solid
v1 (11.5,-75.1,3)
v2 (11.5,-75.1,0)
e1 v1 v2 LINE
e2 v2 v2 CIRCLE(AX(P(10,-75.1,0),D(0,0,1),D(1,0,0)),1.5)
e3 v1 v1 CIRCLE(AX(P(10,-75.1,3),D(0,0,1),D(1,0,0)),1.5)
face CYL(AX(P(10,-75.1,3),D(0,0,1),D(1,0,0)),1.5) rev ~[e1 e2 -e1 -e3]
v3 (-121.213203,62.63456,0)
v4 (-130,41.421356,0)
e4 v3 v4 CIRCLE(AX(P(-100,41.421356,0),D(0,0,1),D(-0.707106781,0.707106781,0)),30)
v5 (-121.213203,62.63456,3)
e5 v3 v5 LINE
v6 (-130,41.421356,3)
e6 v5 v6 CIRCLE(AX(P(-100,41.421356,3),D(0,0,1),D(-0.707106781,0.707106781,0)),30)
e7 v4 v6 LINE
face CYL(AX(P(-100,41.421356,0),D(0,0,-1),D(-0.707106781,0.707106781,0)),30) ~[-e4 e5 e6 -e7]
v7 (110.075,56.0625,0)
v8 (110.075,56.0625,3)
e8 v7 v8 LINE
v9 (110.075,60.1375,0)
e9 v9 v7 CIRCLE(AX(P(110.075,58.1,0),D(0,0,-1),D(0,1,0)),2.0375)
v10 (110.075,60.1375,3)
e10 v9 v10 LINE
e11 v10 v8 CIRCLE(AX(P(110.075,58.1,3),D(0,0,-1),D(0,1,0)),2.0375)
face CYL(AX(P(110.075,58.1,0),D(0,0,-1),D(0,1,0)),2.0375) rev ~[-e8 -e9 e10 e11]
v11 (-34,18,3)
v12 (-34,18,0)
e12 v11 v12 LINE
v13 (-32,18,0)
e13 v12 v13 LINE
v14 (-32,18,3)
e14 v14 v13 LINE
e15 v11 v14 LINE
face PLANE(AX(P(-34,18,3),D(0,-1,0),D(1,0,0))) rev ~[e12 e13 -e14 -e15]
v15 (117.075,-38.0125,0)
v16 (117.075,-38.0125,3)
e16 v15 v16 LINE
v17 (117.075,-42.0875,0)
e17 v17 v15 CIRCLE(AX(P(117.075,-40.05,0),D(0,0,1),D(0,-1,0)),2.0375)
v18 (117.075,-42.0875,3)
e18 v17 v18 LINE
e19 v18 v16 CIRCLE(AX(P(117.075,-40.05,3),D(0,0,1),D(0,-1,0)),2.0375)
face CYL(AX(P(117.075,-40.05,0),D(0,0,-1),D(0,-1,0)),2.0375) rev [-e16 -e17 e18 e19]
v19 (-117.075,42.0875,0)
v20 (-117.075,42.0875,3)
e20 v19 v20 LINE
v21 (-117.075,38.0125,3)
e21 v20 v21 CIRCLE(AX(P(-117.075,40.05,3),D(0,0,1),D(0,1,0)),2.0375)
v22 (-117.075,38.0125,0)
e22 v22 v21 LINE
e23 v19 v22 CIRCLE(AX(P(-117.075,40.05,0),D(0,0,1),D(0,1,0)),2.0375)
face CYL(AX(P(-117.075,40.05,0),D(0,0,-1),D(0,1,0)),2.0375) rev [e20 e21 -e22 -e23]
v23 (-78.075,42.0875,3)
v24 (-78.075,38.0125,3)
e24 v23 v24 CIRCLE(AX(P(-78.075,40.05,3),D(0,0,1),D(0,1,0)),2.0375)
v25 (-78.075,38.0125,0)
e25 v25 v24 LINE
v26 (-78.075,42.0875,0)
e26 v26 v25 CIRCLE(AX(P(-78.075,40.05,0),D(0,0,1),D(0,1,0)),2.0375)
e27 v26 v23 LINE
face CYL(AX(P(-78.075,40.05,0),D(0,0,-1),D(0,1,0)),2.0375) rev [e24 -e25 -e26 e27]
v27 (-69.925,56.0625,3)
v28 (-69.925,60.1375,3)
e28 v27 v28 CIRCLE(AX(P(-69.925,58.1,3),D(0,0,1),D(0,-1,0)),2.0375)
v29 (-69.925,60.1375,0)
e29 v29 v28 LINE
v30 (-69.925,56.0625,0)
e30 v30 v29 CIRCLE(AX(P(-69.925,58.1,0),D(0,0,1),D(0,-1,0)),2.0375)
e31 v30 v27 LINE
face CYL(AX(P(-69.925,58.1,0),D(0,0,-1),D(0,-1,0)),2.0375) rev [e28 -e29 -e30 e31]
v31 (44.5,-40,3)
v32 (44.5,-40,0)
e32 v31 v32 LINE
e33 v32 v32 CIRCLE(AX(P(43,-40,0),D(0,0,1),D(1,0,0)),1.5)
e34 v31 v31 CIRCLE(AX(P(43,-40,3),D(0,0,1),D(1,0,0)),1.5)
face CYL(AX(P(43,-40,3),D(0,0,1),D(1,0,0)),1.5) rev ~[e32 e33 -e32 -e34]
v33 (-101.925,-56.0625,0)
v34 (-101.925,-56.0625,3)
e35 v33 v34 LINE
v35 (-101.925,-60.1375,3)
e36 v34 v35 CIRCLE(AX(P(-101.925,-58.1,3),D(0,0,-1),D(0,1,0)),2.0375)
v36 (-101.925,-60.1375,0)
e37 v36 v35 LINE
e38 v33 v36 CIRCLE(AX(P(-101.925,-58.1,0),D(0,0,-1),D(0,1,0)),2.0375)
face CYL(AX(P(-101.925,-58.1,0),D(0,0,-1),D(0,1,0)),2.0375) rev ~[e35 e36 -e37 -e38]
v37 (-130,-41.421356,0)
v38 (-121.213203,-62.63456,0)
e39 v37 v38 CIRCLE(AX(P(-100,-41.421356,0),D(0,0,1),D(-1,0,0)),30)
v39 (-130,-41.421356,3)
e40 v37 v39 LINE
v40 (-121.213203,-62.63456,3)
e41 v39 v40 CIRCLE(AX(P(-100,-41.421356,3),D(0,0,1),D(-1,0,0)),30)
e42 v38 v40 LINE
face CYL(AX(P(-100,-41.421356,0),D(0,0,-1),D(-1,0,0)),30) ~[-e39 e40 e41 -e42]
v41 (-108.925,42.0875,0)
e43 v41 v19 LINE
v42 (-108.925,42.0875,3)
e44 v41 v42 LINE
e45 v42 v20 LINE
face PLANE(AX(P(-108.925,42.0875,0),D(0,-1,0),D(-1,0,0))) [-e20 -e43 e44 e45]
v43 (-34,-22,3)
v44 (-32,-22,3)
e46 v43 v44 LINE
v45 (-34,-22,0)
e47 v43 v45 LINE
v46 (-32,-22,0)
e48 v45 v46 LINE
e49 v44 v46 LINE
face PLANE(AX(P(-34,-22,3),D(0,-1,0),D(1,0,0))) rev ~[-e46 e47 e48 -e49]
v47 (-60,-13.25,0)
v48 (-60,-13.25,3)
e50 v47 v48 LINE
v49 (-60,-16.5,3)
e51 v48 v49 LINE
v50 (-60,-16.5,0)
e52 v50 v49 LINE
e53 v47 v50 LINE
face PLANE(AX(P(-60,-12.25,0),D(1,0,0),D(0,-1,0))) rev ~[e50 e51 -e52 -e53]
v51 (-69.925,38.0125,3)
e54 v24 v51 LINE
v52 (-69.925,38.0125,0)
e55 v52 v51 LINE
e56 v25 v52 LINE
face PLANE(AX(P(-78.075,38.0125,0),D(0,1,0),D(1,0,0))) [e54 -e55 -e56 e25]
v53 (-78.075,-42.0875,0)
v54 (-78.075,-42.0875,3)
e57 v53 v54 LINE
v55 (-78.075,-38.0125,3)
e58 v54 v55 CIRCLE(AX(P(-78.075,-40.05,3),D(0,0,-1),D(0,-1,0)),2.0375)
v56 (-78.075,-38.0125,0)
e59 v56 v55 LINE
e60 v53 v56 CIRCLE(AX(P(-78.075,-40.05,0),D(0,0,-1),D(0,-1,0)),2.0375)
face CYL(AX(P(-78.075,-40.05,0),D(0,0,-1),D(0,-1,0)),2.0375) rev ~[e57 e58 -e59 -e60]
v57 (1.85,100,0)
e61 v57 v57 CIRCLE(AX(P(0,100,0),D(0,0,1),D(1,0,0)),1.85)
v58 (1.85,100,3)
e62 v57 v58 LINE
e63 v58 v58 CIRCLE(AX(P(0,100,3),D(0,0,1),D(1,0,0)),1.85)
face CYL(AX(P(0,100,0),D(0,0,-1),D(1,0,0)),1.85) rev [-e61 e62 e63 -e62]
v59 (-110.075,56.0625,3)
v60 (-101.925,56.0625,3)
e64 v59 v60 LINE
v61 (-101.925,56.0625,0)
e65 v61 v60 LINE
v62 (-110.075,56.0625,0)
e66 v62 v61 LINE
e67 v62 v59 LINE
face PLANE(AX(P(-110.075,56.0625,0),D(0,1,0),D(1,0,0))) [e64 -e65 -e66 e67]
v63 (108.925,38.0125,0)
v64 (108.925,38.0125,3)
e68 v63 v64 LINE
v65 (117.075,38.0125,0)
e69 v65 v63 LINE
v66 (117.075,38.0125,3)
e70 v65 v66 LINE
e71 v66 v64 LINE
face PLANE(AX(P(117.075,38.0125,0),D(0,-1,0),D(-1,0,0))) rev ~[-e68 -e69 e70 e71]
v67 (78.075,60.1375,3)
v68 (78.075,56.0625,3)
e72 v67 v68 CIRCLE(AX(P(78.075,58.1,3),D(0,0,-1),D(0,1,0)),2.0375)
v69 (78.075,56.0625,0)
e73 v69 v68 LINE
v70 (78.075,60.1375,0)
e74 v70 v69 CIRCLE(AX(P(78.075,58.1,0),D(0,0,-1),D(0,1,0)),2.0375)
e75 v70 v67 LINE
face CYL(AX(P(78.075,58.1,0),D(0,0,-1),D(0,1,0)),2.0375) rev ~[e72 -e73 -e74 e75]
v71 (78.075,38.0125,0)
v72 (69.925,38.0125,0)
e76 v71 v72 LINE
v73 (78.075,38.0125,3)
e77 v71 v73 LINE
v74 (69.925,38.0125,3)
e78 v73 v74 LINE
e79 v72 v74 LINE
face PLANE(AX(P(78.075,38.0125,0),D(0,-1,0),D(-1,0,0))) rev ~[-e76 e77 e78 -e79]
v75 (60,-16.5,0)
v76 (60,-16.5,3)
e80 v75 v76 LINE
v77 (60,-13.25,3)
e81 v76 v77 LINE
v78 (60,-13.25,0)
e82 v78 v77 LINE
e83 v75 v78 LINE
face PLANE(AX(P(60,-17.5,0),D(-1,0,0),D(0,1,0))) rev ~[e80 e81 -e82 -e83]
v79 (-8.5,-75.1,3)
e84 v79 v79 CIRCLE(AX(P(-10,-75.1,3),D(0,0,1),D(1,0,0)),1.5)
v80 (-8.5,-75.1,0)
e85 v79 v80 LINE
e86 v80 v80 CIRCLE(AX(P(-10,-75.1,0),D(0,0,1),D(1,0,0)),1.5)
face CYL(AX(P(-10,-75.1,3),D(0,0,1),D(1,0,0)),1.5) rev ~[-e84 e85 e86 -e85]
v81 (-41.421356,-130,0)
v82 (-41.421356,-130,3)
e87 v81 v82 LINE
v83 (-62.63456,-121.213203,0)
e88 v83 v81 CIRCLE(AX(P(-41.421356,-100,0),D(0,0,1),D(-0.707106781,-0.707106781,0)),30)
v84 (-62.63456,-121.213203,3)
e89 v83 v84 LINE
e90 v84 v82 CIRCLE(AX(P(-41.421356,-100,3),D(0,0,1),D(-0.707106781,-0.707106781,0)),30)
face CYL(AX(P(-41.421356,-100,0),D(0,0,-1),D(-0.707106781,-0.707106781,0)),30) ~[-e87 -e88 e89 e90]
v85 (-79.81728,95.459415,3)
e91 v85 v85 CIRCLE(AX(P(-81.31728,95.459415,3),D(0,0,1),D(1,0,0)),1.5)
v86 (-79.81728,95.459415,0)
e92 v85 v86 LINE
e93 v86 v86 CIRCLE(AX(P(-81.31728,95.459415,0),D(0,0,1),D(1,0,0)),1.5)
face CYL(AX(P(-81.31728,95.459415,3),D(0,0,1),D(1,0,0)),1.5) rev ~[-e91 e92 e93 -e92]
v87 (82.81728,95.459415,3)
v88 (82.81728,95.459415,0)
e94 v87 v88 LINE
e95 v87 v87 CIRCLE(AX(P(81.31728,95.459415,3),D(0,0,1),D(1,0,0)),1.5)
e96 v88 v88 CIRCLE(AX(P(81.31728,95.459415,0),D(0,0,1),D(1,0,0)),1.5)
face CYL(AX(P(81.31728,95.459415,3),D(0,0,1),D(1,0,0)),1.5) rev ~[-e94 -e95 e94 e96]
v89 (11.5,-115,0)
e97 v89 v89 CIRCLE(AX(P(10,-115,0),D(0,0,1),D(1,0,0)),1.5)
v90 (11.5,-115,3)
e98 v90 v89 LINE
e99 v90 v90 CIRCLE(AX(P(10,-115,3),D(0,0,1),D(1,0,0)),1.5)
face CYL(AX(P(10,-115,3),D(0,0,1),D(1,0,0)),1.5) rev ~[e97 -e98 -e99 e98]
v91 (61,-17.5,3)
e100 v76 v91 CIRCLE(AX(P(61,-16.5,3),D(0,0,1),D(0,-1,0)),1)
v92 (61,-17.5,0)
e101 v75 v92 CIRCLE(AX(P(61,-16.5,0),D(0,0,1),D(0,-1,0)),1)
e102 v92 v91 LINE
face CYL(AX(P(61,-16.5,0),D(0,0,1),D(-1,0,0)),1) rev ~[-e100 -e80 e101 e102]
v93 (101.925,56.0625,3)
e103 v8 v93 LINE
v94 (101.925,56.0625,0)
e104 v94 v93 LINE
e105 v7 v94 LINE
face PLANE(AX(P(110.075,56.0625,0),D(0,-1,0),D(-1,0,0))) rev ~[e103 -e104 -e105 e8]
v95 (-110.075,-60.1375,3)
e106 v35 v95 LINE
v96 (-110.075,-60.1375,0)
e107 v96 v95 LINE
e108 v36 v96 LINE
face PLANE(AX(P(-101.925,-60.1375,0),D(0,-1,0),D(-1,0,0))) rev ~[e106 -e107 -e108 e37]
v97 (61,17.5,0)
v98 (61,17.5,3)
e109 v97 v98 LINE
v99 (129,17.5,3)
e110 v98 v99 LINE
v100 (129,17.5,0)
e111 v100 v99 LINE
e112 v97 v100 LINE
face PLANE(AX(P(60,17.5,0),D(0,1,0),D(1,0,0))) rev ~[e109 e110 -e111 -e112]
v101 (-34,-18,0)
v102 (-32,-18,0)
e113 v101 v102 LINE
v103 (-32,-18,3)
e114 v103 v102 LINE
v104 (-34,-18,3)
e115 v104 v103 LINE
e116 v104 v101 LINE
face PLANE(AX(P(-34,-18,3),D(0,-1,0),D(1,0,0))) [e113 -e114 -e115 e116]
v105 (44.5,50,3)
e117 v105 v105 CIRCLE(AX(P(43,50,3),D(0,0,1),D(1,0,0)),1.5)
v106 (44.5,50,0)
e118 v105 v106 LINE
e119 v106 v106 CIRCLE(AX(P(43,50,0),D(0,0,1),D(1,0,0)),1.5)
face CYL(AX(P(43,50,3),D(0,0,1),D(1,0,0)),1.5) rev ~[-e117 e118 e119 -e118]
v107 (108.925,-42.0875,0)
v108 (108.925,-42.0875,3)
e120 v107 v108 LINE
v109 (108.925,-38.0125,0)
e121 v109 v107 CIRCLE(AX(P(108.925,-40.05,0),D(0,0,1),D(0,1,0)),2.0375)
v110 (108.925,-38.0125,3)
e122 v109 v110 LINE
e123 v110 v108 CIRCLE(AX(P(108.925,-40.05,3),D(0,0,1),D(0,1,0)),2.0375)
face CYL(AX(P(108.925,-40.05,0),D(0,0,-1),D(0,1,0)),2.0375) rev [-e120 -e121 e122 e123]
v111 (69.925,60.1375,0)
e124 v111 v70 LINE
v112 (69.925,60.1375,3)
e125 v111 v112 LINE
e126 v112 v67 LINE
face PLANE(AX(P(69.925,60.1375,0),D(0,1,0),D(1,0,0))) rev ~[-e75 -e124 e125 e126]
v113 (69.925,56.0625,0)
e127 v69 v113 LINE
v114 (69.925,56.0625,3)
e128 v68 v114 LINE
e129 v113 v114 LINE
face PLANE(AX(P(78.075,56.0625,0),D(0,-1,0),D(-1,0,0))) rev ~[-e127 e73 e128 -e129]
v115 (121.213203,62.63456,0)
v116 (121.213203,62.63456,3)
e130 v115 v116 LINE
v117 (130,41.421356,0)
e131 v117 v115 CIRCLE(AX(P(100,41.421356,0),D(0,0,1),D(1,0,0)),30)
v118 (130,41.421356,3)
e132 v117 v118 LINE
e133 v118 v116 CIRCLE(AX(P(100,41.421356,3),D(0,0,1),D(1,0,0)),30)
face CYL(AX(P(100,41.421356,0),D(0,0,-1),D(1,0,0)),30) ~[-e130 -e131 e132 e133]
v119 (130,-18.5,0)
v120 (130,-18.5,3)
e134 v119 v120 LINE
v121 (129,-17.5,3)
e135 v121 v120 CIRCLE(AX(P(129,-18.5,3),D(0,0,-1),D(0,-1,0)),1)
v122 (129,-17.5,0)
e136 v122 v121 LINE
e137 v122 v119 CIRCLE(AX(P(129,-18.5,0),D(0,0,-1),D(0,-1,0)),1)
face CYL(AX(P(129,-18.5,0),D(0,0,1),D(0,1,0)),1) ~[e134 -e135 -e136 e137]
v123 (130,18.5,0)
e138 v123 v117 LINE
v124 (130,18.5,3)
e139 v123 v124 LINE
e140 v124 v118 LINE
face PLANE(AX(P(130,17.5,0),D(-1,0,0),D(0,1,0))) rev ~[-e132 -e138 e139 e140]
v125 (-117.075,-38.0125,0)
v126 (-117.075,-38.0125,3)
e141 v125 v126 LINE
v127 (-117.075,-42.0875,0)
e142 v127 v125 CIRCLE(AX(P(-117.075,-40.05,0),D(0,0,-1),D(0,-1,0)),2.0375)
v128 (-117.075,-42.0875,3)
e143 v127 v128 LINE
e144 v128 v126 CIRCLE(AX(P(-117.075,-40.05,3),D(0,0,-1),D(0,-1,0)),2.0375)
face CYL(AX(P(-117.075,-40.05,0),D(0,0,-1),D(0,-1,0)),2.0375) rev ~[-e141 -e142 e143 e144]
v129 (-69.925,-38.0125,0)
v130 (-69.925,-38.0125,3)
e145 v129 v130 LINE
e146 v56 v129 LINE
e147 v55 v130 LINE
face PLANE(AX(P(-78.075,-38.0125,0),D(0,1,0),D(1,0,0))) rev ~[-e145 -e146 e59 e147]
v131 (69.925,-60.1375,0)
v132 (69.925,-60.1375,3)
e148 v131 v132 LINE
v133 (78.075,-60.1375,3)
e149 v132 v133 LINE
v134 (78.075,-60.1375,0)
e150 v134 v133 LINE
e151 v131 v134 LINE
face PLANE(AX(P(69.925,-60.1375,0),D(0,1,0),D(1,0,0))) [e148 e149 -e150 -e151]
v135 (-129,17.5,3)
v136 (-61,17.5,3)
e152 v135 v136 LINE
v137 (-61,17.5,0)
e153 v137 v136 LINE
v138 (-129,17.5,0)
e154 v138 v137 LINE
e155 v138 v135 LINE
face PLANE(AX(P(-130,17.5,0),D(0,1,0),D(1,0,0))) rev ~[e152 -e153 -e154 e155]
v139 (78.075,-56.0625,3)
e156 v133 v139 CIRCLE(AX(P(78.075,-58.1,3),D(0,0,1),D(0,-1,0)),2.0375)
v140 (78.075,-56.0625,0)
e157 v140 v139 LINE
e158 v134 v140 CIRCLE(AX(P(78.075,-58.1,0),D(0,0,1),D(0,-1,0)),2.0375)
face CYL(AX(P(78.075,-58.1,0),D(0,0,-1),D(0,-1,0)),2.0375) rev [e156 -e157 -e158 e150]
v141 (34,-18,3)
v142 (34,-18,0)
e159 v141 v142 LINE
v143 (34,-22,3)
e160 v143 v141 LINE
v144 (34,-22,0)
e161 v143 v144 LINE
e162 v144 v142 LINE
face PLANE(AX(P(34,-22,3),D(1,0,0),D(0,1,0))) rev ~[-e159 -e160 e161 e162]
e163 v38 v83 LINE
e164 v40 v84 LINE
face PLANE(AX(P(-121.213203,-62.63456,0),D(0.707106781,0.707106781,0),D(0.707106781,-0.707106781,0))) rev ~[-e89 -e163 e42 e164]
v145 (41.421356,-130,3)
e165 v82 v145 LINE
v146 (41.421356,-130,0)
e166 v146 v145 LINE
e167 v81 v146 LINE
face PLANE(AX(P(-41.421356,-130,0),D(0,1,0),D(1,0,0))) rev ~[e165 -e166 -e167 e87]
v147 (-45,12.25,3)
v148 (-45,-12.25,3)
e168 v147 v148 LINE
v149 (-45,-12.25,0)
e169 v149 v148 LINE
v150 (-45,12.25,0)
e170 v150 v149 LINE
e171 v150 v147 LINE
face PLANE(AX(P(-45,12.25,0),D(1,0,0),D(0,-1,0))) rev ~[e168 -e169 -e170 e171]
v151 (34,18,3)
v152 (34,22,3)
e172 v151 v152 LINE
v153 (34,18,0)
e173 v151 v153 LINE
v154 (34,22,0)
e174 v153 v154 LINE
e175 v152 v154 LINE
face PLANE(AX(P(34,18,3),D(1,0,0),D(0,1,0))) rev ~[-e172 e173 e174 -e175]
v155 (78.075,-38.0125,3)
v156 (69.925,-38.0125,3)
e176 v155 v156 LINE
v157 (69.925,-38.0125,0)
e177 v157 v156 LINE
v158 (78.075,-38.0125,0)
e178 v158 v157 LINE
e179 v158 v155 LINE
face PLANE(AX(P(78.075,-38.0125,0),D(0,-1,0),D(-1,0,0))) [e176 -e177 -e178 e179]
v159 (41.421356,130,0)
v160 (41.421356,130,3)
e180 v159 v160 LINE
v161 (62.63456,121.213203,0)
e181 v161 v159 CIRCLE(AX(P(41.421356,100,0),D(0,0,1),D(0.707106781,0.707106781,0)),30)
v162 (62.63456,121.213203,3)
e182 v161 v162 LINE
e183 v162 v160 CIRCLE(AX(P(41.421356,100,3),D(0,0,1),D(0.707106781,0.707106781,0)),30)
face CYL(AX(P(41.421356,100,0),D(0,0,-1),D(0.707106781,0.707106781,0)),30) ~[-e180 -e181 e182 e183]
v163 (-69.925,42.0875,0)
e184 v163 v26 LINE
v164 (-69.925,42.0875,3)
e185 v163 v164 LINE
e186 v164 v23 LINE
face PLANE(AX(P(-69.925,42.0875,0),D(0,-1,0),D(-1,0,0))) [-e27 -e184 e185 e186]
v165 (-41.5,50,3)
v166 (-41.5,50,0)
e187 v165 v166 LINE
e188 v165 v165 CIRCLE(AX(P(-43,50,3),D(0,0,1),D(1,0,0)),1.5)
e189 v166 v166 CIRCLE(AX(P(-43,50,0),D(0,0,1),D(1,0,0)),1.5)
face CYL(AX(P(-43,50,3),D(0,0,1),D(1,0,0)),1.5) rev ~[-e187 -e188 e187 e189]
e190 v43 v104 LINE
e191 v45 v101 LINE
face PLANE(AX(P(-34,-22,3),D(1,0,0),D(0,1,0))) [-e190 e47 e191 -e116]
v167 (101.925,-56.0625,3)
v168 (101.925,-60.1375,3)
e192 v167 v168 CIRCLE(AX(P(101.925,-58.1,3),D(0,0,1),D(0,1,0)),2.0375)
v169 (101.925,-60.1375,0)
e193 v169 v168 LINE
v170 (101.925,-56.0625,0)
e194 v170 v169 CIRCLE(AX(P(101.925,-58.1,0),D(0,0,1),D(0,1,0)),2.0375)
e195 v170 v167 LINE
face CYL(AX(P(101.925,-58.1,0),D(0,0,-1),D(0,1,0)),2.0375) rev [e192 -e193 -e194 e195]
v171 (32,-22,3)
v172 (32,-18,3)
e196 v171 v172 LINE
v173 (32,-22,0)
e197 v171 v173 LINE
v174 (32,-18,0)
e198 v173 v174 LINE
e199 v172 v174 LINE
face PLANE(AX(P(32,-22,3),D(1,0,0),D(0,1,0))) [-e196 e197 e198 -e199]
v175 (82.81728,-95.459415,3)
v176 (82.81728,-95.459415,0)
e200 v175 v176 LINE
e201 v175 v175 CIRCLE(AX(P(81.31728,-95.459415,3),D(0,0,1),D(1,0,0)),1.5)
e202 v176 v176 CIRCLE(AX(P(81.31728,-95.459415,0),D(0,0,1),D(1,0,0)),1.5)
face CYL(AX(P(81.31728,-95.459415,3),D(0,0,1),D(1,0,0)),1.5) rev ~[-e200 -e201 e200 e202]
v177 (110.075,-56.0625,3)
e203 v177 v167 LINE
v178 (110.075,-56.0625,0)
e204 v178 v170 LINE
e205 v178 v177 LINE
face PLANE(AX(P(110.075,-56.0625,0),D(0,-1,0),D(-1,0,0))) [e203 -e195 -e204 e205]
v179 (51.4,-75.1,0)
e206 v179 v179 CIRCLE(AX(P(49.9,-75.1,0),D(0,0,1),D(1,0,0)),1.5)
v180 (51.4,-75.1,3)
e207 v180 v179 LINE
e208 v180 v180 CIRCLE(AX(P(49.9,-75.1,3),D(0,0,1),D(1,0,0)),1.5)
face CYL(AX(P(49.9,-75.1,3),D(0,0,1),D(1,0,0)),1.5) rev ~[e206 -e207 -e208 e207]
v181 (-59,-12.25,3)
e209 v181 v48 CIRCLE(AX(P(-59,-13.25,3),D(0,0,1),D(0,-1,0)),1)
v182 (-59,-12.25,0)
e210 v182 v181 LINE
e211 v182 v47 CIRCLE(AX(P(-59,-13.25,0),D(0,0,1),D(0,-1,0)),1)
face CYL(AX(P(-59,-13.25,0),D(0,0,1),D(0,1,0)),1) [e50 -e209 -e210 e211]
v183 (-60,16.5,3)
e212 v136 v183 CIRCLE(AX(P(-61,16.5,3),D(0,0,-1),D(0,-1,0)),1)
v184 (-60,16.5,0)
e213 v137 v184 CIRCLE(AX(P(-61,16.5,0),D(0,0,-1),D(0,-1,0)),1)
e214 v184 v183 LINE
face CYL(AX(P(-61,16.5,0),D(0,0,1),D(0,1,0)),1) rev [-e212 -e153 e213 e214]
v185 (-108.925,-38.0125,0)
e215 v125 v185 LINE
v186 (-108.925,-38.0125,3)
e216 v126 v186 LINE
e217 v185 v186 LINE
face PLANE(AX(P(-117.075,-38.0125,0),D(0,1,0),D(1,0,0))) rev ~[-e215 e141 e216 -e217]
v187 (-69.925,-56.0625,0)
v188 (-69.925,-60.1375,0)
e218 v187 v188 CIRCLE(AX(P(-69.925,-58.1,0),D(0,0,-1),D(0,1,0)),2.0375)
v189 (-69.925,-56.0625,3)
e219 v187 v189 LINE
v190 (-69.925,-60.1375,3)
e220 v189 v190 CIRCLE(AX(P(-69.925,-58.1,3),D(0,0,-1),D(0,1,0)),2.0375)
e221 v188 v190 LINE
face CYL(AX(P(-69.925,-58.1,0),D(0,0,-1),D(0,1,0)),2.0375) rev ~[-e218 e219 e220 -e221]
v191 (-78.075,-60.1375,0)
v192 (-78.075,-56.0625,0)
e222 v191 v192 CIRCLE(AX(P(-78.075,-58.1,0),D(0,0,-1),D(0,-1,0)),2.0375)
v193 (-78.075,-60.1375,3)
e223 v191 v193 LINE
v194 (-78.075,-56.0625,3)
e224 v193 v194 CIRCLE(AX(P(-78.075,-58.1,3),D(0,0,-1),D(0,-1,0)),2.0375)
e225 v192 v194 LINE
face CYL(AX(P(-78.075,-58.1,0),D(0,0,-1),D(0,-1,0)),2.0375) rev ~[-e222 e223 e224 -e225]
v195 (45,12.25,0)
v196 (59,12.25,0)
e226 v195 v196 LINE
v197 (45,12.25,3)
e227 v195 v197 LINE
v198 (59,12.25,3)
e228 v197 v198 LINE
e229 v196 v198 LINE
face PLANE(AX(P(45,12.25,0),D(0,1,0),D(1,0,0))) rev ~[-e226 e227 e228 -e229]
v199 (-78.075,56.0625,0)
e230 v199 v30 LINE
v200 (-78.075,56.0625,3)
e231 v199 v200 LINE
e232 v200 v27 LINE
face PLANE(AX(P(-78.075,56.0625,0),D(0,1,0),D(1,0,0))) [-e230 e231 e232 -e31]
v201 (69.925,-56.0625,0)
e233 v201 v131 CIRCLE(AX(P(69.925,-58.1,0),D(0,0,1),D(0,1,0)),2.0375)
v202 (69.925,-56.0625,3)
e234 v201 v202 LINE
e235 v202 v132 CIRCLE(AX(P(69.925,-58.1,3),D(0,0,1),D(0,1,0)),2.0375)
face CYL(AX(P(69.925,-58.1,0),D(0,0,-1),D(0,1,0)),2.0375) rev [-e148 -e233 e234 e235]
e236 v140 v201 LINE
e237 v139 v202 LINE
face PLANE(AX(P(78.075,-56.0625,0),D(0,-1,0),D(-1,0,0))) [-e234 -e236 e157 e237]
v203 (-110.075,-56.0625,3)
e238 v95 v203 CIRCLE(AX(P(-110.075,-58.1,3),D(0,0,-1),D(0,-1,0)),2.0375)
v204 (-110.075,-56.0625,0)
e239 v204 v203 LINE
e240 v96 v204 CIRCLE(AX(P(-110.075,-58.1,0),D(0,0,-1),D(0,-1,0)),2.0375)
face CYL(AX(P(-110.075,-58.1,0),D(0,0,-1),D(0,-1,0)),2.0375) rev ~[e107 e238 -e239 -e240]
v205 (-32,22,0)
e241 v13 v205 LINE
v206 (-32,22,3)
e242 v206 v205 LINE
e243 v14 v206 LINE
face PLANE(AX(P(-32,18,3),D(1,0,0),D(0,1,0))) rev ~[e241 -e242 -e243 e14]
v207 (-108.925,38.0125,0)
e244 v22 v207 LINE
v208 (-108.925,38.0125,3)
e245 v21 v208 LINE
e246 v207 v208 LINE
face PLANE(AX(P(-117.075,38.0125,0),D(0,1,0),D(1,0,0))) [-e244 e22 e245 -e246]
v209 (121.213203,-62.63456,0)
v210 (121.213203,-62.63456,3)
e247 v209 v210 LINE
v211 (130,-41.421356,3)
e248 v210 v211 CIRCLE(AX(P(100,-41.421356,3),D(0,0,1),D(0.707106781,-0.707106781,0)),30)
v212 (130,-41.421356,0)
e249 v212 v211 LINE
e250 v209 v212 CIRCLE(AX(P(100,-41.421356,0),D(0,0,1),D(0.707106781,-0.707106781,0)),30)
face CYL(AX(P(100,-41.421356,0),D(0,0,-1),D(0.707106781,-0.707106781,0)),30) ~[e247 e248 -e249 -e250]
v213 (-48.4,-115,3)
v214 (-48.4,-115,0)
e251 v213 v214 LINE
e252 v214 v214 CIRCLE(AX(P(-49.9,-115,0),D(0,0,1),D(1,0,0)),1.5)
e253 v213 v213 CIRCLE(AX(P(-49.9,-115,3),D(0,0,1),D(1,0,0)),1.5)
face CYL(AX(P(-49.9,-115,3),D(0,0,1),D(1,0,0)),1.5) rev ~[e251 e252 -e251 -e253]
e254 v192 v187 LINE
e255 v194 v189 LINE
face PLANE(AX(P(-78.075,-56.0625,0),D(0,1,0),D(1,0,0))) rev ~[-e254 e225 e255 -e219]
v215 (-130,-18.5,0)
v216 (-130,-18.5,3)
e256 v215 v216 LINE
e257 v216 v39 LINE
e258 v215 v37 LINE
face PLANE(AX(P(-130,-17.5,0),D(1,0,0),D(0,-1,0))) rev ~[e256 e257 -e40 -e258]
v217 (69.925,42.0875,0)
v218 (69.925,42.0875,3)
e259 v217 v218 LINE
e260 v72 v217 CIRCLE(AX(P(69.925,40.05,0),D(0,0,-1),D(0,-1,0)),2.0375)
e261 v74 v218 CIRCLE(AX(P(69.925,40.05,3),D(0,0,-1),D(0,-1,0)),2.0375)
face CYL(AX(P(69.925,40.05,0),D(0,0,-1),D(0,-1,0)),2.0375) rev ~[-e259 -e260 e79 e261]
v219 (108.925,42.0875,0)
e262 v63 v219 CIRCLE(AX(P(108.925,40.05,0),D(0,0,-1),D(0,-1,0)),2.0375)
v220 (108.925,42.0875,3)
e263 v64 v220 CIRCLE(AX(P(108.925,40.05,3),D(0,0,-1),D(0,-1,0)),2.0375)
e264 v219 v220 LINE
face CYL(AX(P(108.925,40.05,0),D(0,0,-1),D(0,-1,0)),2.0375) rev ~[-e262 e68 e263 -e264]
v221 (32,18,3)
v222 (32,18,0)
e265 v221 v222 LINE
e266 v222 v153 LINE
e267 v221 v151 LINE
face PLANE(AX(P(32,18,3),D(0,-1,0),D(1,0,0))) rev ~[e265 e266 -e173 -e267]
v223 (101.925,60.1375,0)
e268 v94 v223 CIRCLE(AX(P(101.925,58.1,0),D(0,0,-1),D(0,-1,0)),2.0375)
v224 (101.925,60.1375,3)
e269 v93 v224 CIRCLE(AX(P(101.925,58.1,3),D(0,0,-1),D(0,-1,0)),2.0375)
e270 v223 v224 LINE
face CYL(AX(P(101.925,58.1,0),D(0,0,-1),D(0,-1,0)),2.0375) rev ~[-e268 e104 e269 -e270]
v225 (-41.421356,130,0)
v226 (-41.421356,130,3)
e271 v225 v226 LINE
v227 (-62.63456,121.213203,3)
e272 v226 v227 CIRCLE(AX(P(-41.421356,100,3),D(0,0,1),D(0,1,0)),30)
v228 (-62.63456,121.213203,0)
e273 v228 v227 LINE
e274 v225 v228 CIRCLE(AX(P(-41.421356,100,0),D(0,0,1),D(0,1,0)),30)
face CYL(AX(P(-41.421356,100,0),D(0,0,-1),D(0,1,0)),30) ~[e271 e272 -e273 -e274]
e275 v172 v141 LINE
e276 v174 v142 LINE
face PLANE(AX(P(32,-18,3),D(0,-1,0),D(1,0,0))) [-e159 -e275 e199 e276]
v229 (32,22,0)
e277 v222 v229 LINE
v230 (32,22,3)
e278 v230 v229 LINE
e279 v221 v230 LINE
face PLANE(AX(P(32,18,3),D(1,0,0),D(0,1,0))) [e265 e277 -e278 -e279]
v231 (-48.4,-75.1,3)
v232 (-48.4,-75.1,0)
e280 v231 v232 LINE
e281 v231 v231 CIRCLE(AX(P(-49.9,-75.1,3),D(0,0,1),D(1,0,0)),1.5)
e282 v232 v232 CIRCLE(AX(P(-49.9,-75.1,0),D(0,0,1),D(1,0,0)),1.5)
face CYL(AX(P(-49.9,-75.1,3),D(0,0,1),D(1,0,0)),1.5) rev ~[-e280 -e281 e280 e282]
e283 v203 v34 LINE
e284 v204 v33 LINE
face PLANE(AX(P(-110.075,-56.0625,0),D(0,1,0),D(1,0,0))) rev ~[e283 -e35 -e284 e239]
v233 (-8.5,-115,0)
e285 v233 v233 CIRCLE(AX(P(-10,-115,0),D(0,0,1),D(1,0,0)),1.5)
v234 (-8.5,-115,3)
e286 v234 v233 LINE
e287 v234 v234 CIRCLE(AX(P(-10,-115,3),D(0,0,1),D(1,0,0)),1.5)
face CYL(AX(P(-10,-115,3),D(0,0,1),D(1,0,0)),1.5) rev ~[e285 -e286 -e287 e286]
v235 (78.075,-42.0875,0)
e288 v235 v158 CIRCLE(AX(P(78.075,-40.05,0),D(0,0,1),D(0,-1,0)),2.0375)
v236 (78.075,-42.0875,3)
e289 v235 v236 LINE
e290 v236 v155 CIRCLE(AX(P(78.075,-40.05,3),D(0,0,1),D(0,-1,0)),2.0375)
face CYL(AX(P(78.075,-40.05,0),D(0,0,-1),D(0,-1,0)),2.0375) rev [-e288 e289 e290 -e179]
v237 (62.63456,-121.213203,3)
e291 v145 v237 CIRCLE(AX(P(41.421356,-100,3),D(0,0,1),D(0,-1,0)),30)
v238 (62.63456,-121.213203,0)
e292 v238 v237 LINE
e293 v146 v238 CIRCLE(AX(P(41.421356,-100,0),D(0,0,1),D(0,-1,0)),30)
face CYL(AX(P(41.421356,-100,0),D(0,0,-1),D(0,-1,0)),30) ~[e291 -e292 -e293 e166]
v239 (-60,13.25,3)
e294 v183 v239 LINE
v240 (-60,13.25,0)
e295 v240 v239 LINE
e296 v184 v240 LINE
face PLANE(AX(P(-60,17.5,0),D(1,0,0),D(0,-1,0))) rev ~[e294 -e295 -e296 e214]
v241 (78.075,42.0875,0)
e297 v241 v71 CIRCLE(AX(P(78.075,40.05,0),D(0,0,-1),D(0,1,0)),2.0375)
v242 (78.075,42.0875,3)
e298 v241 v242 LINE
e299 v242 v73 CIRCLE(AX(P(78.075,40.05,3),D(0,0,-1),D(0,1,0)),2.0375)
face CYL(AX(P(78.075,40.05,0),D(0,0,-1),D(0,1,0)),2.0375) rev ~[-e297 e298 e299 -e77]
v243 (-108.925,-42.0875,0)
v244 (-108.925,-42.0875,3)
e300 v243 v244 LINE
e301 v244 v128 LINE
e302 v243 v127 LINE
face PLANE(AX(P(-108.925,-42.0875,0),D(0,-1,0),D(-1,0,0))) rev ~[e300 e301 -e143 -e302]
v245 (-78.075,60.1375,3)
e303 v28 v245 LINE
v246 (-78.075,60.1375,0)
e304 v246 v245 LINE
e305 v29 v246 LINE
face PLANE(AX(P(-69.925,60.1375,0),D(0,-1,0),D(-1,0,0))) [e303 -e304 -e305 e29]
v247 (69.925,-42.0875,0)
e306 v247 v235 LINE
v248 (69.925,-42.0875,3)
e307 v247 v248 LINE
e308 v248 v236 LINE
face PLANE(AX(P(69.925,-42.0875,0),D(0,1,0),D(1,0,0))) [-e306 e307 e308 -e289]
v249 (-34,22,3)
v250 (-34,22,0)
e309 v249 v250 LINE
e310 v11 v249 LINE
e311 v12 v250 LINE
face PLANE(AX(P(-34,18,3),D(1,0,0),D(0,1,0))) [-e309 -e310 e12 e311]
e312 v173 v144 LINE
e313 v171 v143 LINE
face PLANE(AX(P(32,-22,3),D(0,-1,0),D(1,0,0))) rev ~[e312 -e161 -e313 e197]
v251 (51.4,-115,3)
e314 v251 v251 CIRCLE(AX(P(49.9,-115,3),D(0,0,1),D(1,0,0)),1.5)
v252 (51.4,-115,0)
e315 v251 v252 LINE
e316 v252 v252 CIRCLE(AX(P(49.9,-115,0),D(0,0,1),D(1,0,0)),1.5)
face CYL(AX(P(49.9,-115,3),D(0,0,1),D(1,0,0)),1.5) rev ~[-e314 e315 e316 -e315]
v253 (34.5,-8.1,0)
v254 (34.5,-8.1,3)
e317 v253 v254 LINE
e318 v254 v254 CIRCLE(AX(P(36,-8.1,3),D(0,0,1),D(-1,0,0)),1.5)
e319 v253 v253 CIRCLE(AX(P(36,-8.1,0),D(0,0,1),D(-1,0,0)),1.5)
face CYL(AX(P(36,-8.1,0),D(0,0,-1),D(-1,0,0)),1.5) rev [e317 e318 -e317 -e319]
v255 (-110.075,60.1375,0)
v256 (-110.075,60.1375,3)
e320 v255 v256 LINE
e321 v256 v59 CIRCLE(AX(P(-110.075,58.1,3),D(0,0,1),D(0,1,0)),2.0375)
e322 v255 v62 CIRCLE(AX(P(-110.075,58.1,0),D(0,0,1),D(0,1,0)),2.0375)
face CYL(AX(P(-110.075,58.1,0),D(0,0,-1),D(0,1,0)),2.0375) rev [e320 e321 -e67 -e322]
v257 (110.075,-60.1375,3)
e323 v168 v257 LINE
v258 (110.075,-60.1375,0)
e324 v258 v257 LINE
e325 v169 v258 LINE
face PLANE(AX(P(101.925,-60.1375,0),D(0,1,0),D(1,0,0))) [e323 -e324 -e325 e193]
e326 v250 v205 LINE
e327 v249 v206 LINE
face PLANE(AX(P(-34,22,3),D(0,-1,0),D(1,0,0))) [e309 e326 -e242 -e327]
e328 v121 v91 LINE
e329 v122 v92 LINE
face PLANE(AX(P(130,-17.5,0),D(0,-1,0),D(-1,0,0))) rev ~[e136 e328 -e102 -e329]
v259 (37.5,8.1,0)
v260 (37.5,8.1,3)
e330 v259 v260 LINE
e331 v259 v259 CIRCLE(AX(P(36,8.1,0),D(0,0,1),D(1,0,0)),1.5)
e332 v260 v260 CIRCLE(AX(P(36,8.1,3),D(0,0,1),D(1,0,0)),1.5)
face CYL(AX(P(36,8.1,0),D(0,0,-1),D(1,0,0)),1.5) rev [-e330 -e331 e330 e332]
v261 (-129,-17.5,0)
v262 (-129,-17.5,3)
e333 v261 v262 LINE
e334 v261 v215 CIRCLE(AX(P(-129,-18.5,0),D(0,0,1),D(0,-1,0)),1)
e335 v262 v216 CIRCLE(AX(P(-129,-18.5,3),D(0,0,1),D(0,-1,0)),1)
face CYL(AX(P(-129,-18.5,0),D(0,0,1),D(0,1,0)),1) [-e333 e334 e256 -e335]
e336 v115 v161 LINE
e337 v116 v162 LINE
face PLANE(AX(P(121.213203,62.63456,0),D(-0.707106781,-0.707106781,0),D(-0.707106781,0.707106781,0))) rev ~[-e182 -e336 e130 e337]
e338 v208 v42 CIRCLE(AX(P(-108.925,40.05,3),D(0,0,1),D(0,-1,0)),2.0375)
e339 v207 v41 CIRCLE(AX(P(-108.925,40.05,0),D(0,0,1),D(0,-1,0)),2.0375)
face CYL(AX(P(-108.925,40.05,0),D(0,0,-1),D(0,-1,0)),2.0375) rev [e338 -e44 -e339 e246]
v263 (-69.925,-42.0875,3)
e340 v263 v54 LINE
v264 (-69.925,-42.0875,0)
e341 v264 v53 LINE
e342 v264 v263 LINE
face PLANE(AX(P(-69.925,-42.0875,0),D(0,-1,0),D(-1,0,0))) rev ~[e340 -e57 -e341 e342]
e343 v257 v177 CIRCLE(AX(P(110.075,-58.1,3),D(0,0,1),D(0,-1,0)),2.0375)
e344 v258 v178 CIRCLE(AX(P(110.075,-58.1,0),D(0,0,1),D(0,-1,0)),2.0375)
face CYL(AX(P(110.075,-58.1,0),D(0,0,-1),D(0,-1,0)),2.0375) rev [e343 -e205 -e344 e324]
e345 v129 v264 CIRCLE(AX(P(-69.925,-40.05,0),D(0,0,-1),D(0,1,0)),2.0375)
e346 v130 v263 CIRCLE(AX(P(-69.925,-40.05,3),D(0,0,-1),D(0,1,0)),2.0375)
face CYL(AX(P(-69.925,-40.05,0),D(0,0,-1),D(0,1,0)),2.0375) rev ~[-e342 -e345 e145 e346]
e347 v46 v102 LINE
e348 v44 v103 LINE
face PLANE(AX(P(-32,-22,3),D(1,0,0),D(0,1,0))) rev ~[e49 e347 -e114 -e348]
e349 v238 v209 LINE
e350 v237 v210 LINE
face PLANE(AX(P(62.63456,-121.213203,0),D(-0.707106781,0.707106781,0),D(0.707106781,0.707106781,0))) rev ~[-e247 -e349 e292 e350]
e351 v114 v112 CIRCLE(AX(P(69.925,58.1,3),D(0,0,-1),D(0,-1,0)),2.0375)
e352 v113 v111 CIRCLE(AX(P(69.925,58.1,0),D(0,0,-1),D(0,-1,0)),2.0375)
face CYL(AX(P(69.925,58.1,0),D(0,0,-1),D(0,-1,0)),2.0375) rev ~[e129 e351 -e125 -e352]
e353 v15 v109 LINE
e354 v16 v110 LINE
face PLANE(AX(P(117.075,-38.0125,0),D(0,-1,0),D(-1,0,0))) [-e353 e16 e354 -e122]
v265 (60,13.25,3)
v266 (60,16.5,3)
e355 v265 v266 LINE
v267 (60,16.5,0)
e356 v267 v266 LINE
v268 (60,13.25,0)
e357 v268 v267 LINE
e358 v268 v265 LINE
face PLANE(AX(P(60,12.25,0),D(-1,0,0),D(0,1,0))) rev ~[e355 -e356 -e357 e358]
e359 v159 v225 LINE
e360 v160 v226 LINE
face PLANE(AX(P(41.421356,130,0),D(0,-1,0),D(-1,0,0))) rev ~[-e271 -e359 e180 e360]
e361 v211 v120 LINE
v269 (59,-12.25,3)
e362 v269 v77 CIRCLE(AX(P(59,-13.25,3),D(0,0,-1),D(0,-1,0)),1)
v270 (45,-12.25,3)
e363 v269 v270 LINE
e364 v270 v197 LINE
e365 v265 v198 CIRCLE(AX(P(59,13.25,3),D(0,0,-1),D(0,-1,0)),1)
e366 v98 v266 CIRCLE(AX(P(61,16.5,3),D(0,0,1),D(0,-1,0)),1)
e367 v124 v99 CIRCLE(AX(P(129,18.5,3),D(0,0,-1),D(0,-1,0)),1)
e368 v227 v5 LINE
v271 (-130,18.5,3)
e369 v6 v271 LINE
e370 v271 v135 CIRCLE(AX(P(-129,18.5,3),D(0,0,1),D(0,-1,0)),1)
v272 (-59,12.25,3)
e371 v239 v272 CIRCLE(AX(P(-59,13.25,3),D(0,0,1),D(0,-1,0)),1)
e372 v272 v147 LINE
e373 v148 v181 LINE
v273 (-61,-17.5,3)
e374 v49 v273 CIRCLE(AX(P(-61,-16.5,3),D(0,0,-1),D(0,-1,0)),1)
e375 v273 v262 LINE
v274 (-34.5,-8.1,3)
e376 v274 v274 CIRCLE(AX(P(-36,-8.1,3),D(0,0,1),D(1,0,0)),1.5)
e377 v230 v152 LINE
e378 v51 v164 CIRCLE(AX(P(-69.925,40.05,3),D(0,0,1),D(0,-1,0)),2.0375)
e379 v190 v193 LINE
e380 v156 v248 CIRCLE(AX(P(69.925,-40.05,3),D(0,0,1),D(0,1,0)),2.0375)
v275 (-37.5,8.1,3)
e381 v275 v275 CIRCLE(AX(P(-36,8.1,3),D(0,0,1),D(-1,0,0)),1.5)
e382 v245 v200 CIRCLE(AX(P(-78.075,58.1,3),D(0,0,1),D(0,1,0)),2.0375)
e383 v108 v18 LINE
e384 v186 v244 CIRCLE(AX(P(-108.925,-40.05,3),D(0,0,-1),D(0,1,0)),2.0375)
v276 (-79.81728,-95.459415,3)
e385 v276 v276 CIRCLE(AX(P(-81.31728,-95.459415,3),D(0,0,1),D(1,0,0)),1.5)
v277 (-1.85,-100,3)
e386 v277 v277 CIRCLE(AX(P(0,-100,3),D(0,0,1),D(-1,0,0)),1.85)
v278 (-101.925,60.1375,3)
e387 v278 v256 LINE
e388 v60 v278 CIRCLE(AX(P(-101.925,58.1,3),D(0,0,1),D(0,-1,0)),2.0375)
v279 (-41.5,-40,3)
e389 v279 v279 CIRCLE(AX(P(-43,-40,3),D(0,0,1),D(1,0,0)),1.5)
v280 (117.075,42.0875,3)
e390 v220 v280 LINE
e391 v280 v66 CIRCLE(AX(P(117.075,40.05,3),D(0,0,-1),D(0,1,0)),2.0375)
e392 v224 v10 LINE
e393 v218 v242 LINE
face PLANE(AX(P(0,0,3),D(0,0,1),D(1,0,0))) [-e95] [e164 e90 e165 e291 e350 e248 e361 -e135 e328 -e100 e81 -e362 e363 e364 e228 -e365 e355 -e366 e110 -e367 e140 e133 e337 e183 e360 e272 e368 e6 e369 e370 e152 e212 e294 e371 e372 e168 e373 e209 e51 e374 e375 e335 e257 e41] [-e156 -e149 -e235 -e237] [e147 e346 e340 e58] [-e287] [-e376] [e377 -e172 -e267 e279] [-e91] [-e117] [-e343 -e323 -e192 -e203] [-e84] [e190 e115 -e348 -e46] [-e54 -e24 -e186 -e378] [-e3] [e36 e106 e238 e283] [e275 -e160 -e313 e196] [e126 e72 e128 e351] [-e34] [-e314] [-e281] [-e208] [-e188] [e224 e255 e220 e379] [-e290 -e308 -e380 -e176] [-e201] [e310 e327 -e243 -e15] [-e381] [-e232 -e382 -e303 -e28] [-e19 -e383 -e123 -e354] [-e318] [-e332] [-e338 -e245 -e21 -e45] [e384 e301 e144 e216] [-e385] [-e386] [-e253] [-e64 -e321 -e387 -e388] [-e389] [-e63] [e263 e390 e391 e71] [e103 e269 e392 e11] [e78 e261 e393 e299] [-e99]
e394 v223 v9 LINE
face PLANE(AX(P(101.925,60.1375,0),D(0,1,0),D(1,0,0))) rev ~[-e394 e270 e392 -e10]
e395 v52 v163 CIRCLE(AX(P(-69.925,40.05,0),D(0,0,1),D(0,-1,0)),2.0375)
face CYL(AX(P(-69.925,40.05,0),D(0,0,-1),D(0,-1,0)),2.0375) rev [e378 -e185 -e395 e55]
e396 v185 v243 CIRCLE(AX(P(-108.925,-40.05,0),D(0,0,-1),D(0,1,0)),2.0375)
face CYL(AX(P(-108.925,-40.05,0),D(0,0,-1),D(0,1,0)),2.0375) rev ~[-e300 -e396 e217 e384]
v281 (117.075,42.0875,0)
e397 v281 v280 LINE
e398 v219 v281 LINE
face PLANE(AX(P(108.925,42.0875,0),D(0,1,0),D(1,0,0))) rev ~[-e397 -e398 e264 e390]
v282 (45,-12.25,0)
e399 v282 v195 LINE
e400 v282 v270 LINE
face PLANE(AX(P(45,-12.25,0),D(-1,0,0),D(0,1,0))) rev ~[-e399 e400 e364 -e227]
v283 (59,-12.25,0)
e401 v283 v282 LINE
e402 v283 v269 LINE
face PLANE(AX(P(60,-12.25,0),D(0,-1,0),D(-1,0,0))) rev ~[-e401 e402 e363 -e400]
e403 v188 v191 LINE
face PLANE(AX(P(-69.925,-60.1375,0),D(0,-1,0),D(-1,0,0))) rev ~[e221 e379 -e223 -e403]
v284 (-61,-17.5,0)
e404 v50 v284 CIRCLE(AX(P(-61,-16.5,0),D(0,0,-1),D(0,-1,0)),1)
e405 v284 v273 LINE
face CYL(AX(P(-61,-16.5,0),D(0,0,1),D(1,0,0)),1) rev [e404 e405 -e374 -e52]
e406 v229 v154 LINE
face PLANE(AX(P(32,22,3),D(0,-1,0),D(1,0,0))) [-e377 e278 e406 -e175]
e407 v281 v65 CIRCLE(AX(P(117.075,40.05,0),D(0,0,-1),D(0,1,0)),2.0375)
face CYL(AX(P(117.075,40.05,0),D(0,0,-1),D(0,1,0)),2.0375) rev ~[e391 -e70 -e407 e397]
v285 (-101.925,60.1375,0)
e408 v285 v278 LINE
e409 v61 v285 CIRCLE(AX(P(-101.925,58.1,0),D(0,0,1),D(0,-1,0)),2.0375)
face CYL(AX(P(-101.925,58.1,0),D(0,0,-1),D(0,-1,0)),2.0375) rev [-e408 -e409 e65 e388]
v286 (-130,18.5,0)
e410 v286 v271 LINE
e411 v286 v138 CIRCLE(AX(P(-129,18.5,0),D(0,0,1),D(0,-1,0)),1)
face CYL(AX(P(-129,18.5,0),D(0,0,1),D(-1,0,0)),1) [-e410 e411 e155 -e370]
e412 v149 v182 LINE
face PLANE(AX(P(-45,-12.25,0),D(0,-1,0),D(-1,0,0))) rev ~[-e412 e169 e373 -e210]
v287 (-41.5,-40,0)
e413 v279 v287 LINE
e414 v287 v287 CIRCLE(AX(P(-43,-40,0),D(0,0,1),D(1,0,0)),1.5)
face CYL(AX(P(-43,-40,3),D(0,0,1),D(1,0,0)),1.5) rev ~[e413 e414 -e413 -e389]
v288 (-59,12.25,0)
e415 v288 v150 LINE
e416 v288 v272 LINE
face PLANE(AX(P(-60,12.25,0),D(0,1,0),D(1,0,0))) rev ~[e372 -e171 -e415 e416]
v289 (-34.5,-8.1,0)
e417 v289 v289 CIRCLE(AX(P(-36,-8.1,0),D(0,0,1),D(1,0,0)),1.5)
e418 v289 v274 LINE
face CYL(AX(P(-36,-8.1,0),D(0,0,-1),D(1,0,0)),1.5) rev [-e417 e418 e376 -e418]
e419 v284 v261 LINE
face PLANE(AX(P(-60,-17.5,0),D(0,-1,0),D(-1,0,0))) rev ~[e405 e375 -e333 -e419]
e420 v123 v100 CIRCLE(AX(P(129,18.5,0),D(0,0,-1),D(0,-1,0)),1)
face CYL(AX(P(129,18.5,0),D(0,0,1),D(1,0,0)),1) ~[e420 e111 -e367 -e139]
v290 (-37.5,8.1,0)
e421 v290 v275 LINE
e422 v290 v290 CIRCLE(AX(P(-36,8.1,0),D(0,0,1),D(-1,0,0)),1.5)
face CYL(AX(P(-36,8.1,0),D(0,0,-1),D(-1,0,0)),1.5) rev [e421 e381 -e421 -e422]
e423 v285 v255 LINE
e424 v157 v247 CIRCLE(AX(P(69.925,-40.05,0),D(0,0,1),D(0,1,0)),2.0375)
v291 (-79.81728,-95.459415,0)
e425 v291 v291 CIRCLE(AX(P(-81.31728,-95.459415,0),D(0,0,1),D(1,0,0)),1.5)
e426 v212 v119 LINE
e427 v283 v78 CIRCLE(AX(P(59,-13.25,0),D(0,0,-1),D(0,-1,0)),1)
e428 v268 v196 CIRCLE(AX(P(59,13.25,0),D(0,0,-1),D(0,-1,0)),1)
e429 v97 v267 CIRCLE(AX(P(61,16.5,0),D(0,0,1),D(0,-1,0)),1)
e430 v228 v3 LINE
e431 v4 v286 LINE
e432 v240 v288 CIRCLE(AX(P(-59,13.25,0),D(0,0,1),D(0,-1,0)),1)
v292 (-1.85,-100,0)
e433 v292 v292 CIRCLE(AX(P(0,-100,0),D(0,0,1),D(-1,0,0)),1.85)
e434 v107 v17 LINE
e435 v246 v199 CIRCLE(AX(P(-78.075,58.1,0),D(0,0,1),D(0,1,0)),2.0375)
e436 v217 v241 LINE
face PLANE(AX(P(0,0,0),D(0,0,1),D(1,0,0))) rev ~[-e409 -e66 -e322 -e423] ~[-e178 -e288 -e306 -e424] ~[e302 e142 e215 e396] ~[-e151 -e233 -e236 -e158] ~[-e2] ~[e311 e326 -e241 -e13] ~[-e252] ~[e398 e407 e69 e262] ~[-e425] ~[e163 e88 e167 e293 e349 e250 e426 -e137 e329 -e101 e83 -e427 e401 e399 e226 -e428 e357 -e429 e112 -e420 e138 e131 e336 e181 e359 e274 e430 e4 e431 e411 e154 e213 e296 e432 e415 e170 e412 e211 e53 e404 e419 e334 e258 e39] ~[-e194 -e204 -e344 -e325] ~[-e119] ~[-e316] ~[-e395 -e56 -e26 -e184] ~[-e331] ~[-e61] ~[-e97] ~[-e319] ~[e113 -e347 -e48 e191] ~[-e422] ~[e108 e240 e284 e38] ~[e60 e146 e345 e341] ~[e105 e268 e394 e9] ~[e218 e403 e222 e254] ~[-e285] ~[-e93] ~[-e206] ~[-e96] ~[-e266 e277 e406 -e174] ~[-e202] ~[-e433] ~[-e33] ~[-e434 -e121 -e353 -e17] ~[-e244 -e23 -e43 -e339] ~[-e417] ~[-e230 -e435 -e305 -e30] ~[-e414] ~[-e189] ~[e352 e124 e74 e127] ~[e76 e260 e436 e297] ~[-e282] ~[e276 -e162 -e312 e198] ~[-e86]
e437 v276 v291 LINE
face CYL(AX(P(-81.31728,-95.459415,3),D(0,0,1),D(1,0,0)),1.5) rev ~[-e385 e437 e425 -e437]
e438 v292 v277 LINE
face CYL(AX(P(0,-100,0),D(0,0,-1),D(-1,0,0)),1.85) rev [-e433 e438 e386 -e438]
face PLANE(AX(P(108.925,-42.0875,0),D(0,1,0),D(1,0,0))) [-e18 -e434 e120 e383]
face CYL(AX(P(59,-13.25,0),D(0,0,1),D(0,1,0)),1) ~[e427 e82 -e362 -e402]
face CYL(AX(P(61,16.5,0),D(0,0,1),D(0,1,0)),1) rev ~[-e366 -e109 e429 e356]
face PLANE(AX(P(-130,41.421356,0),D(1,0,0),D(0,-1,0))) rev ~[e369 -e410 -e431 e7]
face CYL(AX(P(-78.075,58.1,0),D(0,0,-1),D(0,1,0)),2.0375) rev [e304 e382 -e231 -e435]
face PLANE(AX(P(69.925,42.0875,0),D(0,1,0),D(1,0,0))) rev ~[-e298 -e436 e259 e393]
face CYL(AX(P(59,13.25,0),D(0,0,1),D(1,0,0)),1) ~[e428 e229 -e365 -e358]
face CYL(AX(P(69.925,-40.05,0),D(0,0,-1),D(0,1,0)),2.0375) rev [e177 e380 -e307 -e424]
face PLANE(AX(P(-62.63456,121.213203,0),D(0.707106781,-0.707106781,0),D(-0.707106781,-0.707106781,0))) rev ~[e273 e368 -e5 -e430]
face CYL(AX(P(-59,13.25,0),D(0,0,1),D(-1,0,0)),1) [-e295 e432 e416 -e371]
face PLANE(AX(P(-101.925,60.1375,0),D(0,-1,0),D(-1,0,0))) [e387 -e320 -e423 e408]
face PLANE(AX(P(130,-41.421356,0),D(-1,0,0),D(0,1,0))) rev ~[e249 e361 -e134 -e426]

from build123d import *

# Parameters (mm, degrees)
SKETCH1_R           = 1.85
SKETCH1_R_2         = 1.5
BOSS_EXTRUDE1_DEPTH = 3
SKETCH2_R           = 1.5
SKETCH2_W           = 2
SKETCH2_H           = 4
CUT_EXTRUDE1_DEPTH  = 10
FILLET1_R           = 1
FILLET2_R           = 1
SKETCH3_R           = 1.5
CUT_EXTRUDE2_DEPTH  = 10


with BuildPart() as part:
    # Sketch1 → Boss-Extrude1 (new body)
    with BuildSketch(Plane.XY):
        with BuildLine():
            Line((130, 17.5), (130, 41.421356237))
            ThreePointArc((130, 41.421356237), (127.716385975, 52.901859208), (121.213203436, 62.634559673))
            Line((121.213203436, 62.634559673), (62.634559673, 121.213203436))
            ThreePointArc((62.634559673, 121.213203436), (52.901859208, 127.716385975), (41.421356237, 130))
            Line((41.421356237, 130), (-41.421356237, 130))
            ThreePointArc((-41.421356237, 130), (-52.901859208, 127.716385975), (-62.634559673, 121.213203436))
            Line((-62.634559673, 121.213203436), (-121.213203436, 62.634559673))
            ThreePointArc((-121.213203436, 62.634559673), (-127.716385975, 52.901859208), (-130, 41.421356237))
            Line((-130, 41.421356237), (-130, 17.5))
            Line((-130, 17.5), (-60, 17.5))
            Line((-60, 17.5), (-60, 12.25))
            Line((-60, 12.25), (-45, 12.25))
            Line((-45, 12.25), (-45, -12.25))
            Line((-45, -12.25), (-60, -12.25))
            Line((-60, -12.25), (-60, -17.5))
            Line((-60, -17.5), (-130, -17.5))
            Line((-130, -17.5), (-130, -41.421356237))
            ThreePointArc((-130, -41.421356237), (-127.716385975, -52.901859208), (-121.213203436, -62.634559673))
            Line((-121.213203436, -62.634559673), (-62.634559673, -121.213203436))
            ThreePointArc((-62.634559673, -121.213203436), (-52.901859208, -127.716385975), (-41.421356237, -130))
            Line((-41.421356237, -130), (41.421356237, -130))
            ThreePointArc((41.421356237, -130), (52.901859208, -127.716385975), (62.634559673, -121.213203436))
            Line((62.634559673, -121.213203436), (121.213203436, -62.634559673))
            ThreePointArc((121.213203436, -62.634559673), (127.716385975, -52.901859208), (130, -41.421356237))
            Line((130, -41.421356237), (130, -17.5))
            Line((130, -17.5), (60, -17.5))
            Line((60, -17.5), (60, -12.25))
            Line((60, -12.25), (45, -12.25))
            Line((45, -12.25), (45, 12.25))
            Line((45, 12.25), (60, 12.25))
            Line((60, 12.25), (60, 17.5))
            Line((60, 17.5), (130, 17.5))
        make_face()
        with Locations((0, 100)):
            Circle(SKETCH1_R, mode=Mode.SUBTRACT)
        with Locations(Location((0, -100, 0), (0, 0, 180))):
            Circle(SKETCH1_R, mode=Mode.SUBTRACT)
        with Locations((36, 8.1)):
            Circle(SKETCH1_R_2, mode=Mode.SUBTRACT)
        with Locations(Location((36, -8.1, 0), (0, 0, 180))):
            Circle(SKETCH1_R_2, mode=Mode.SUBTRACT)
        with Locations((-36, -8.1)):
            Circle(SKETCH1_R_2, mode=Mode.SUBTRACT)
        with Locations(Location((-36, 8.1, 0), (0, 0, 180))):
            Circle(SKETCH1_R_2, mode=Mode.SUBTRACT)
        with BuildLine():
            Line((69.925, 42.0875), (78.075, 42.0875))
            ThreePointArc((78.075, 42.0875), (80.1125, 40.05), (78.075, 38.0125))
            Line((78.075, 38.0125), (69.925, 38.0125))
            ThreePointArc((69.925, 38.0125), (67.8875, 40.05), (69.925, 42.0875))
        make_face(mode=Mode.SUBTRACT)
        with BuildLine():
            Line((69.925, 60.1375), (78.075, 60.1375))
            ThreePointArc((78.075, 60.1375), (80.1125, 58.1), (78.075, 56.0625))
            Line((78.075, 56.0625), (69.925, 56.0625))
            ThreePointArc((69.925, 56.0625), (67.8875, 58.1), (69.925, 60.1375))
        make_face(mode=Mode.SUBTRACT)
        with BuildLine():
            Line((101.925, 60.1375), (110.075, 60.1375))
            ThreePointArc((110.075, 60.1375), (112.1125, 58.1), (110.075, 56.0625))
            Line((110.075, 56.0625), (101.925, 56.0625))
            ThreePointArc((101.925, 56.0625), (99.8875, 58.1), (101.925, 60.1375))
        make_face(mode=Mode.SUBTRACT)
        with BuildLine():
            Line((108.925, 42.0875), (117.075, 42.0875))
            ThreePointArc((117.075, 42.0875), (119.1125, 40.05), (117.075, 38.0125))
            Line((117.075, 38.0125), (108.925, 38.0125))
            ThreePointArc((108.925, 38.0125), (106.8875, 40.05), (108.925, 42.0875))
        make_face(mode=Mode.SUBTRACT)
        with BuildLine():
            Line((-69.925, 60.1375), (-78.075, 60.1375))
            ThreePointArc((-78.075, 60.1375), (-80.1125, 58.1), (-78.075, 56.0625))
            Line((-78.075, 56.0625), (-69.925, 56.0625))
            ThreePointArc((-69.925, 56.0625), (-67.8875, 58.1), (-69.925, 60.1375))
        make_face(mode=Mode.SUBTRACT)
        with BuildLine():
            Line((-101.925, 60.1375), (-110.075, 60.1375))
            ThreePointArc((-110.075, 60.1375), (-112.1125, 58.1), (-110.075, 56.0625))
            Line((-110.075, 56.0625), (-101.925, 56.0625))
            ThreePointArc((-101.925, 56.0625), (-99.8875, 58.1), (-101.925, 60.1375))
        make_face(mode=Mode.SUBTRACT)
        with BuildLine():
            Line((-108.925, 42.0875), (-117.075, 42.0875))
            ThreePointArc((-117.075, 42.0875), (-119.1125, 40.05), (-117.075, 38.0125))
            Line((-117.075, 38.0125), (-108.925, 38.0125))
            ThreePointArc((-108.925, 38.0125), (-106.8875, 40.05), (-108.925, 42.0875))
        make_face(mode=Mode.SUBTRACT)
        with BuildLine():
            Line((-69.925, 42.0875), (-78.075, 42.0875))
            ThreePointArc((-78.075, 42.0875), (-80.1125, 40.05), (-78.075, 38.0125))
            Line((-78.075, 38.0125), (-69.925, 38.0125))
            ThreePointArc((-69.925, 38.0125), (-67.8875, 40.05), (-69.925, 42.0875))
        make_face(mode=Mode.SUBTRACT)
        with BuildLine():
            Line((101.925, -60.1375), (110.075, -60.1375))
            ThreePointArc((110.075, -60.1375), (112.1125, -58.1), (110.075, -56.0625))
            Line((110.075, -56.0625), (101.925, -56.0625))
            ThreePointArc((101.925, -56.0625), (99.8875, -58.1), (101.925, -60.1375))
        make_face(mode=Mode.SUBTRACT)
        with BuildLine():
            Line((69.925, -60.1375), (78.075, -60.1375))
            ThreePointArc((78.075, -60.1375), (80.1125, -58.1), (78.075, -56.0625))
            Line((78.075, -56.0625), (69.925, -56.0625))
            ThreePointArc((69.925, -56.0625), (67.8875, -58.1), (69.925, -60.1375))
        make_face(mode=Mode.SUBTRACT)
        with BuildLine():
            Line((69.925, -42.0875), (78.075, -42.0875))
            ThreePointArc((78.075, -42.0875), (80.1125, -40.05), (78.075, -38.0125))
            Line((78.075, -38.0125), (69.925, -38.0125))
            ThreePointArc((69.925, -38.0125), (67.8875, -40.05), (69.925, -42.0875))
        make_face(mode=Mode.SUBTRACT)
        with BuildLine():
            Line((108.925, -42.0875), (117.075, -42.0875))
            ThreePointArc((117.075, -42.0875), (119.1125, -40.05), (117.075, -38.0125))
            Line((117.075, -38.0125), (108.925, -38.0125))
            ThreePointArc((108.925, -38.0125), (106.8875, -40.05), (108.925, -42.0875))
        make_face(mode=Mode.SUBTRACT)
        with BuildLine():
            Line((-101.925, -60.1375), (-110.075, -60.1375))
            ThreePointArc((-110.075, -60.1375), (-112.1125, -58.1), (-110.075, -56.0625))
            Line((-110.075, -56.0625), (-101.925, -56.0625))
            ThreePointArc((-101.925, -56.0625), (-99.8875, -58.1), (-101.925, -60.1375))
        make_face(mode=Mode.SUBTRACT)
        with BuildLine():
            Line((-69.925, -60.1375), (-78.075, -60.1375))
            ThreePointArc((-78.075, -60.1375), (-80.1125, -58.1), (-78.075, -56.0625))
            Line((-78.075, -56.0625), (-69.925, -56.0625))
            ThreePointArc((-69.925, -56.0625), (-67.8875, -58.1), (-69.925, -60.1375))
        make_face(mode=Mode.SUBTRACT)
        with BuildLine():
            Line((-69.925, -42.0875), (-78.075, -42.0875))
            ThreePointArc((-78.075, -42.0875), (-80.1125, -40.05), (-78.075, -38.0125))
            Line((-78.075, -38.0125), (-69.925, -38.0125))
            ThreePointArc((-69.925, -38.0125), (-67.8875, -40.05), (-69.925, -42.0875))
        make_face(mode=Mode.SUBTRACT)
        with BuildLine():
            Line((-108.925, -42.0875), (-117.075, -42.0875))
            ThreePointArc((-117.075, -42.0875), (-119.1125, -40.05), (-117.075, -38.0125))
            Line((-117.075, -38.0125), (-108.925, -38.0125))
            ThreePointArc((-108.925, -38.0125), (-106.8875, -40.05), (-108.925, -42.0875))
        make_face(mode=Mode.SUBTRACT)
    extrude(amount=BOSS_EXTRUDE1_DEPTH)

    # Sketch2 → Cut-Extrude1 (cut)
    with BuildSketch(Plane.XY.offset(3)):
        with Locations((-10, -75.1)):
            Circle(SKETCH2_R)
        with Locations((-49.9, -75.1)):
            Circle(SKETCH2_R)
        with Locations((-10, -115)):
            Circle(SKETCH2_R)
        with Locations((-49.9, -115)):
            Circle(SKETCH2_R)
        with Locations((10, -75.1)):
            Circle(SKETCH2_R)
        with Locations((49.9, -75.1)):
            Circle(SKETCH2_R)
        with Locations((49.9, -115)):
            Circle(SKETCH2_R)
        with Locations((10, -115)):
            Circle(SKETCH2_R)
        with Locations((33, -20)):
            Rectangle(SKETCH2_W, SKETCH2_H)
        with Locations((33, 20)):
            Rectangle(SKETCH2_W, SKETCH2_H)
        with Locations((-33, 20)):
            Rectangle(SKETCH2_W, SKETCH2_H)
        with Locations((-33, -20)):
            Rectangle(SKETCH2_W, SKETCH2_H)
    extrude(amount=-CUT_EXTRUDE1_DEPTH, mode=Mode.SUBTRACT)

    # Fillet1
    fillet1_edges = [part.edges().sort_by_distance(p)[0] for p in [
        (130, 17.5, 1.5),
        (60, 17.5, 1.5),
        (60, 12.25, 1.5),
        (60, -12.25, 1.5),
        (60, -17.5, 1.5),
        (130, -17.5, 1.5),
    ]]
    fillet(fillet1_edges, radius=FILLET1_R)

    # Fillet2
    fillet2_edges = [part.edges().sort_by_distance(p)[0] for p in [
        (-130, -17.5, 1.5),
        (-60, -17.5, 1.5),
        (-60, -12.25, 1.5),
        (-60, 12.25, 1.5),
        (-60, 17.5, 1.5),
        (-130, 17.5, 1.5),
    ]]
    fillet(fillet2_edges, radius=FILLET2_R)

    # Sketch3 → Cut-Extrude2 (cut)
    with BuildSketch(Plane.XY.offset(3)):
        with Locations((-43, 50)):
            Circle(SKETCH3_R)
        with Locations((-43, -40)):
            Circle(SKETCH3_R)
        with Locations((43, -40)):
            Circle(SKETCH3_R)
        with Locations((43, 50)):
            Circle(SKETCH3_R)
        with Locations((-81.317279836, 95.45941546)):
            Circle(SKETCH3_R)
        with Locations((81.317279836, 95.45941546)):
            Circle(SKETCH3_R)
        with Locations((81.317279836, -95.45941546)):
            Circle(SKETCH3_R)
        with Locations((-81.317279836, -95.45941546)):
            Circle(SKETCH3_R)
    extrude(amount=-CUT_EXTRUDE2_DEPTH, mode=Mode.SUBTRACT)


solid = part.part
